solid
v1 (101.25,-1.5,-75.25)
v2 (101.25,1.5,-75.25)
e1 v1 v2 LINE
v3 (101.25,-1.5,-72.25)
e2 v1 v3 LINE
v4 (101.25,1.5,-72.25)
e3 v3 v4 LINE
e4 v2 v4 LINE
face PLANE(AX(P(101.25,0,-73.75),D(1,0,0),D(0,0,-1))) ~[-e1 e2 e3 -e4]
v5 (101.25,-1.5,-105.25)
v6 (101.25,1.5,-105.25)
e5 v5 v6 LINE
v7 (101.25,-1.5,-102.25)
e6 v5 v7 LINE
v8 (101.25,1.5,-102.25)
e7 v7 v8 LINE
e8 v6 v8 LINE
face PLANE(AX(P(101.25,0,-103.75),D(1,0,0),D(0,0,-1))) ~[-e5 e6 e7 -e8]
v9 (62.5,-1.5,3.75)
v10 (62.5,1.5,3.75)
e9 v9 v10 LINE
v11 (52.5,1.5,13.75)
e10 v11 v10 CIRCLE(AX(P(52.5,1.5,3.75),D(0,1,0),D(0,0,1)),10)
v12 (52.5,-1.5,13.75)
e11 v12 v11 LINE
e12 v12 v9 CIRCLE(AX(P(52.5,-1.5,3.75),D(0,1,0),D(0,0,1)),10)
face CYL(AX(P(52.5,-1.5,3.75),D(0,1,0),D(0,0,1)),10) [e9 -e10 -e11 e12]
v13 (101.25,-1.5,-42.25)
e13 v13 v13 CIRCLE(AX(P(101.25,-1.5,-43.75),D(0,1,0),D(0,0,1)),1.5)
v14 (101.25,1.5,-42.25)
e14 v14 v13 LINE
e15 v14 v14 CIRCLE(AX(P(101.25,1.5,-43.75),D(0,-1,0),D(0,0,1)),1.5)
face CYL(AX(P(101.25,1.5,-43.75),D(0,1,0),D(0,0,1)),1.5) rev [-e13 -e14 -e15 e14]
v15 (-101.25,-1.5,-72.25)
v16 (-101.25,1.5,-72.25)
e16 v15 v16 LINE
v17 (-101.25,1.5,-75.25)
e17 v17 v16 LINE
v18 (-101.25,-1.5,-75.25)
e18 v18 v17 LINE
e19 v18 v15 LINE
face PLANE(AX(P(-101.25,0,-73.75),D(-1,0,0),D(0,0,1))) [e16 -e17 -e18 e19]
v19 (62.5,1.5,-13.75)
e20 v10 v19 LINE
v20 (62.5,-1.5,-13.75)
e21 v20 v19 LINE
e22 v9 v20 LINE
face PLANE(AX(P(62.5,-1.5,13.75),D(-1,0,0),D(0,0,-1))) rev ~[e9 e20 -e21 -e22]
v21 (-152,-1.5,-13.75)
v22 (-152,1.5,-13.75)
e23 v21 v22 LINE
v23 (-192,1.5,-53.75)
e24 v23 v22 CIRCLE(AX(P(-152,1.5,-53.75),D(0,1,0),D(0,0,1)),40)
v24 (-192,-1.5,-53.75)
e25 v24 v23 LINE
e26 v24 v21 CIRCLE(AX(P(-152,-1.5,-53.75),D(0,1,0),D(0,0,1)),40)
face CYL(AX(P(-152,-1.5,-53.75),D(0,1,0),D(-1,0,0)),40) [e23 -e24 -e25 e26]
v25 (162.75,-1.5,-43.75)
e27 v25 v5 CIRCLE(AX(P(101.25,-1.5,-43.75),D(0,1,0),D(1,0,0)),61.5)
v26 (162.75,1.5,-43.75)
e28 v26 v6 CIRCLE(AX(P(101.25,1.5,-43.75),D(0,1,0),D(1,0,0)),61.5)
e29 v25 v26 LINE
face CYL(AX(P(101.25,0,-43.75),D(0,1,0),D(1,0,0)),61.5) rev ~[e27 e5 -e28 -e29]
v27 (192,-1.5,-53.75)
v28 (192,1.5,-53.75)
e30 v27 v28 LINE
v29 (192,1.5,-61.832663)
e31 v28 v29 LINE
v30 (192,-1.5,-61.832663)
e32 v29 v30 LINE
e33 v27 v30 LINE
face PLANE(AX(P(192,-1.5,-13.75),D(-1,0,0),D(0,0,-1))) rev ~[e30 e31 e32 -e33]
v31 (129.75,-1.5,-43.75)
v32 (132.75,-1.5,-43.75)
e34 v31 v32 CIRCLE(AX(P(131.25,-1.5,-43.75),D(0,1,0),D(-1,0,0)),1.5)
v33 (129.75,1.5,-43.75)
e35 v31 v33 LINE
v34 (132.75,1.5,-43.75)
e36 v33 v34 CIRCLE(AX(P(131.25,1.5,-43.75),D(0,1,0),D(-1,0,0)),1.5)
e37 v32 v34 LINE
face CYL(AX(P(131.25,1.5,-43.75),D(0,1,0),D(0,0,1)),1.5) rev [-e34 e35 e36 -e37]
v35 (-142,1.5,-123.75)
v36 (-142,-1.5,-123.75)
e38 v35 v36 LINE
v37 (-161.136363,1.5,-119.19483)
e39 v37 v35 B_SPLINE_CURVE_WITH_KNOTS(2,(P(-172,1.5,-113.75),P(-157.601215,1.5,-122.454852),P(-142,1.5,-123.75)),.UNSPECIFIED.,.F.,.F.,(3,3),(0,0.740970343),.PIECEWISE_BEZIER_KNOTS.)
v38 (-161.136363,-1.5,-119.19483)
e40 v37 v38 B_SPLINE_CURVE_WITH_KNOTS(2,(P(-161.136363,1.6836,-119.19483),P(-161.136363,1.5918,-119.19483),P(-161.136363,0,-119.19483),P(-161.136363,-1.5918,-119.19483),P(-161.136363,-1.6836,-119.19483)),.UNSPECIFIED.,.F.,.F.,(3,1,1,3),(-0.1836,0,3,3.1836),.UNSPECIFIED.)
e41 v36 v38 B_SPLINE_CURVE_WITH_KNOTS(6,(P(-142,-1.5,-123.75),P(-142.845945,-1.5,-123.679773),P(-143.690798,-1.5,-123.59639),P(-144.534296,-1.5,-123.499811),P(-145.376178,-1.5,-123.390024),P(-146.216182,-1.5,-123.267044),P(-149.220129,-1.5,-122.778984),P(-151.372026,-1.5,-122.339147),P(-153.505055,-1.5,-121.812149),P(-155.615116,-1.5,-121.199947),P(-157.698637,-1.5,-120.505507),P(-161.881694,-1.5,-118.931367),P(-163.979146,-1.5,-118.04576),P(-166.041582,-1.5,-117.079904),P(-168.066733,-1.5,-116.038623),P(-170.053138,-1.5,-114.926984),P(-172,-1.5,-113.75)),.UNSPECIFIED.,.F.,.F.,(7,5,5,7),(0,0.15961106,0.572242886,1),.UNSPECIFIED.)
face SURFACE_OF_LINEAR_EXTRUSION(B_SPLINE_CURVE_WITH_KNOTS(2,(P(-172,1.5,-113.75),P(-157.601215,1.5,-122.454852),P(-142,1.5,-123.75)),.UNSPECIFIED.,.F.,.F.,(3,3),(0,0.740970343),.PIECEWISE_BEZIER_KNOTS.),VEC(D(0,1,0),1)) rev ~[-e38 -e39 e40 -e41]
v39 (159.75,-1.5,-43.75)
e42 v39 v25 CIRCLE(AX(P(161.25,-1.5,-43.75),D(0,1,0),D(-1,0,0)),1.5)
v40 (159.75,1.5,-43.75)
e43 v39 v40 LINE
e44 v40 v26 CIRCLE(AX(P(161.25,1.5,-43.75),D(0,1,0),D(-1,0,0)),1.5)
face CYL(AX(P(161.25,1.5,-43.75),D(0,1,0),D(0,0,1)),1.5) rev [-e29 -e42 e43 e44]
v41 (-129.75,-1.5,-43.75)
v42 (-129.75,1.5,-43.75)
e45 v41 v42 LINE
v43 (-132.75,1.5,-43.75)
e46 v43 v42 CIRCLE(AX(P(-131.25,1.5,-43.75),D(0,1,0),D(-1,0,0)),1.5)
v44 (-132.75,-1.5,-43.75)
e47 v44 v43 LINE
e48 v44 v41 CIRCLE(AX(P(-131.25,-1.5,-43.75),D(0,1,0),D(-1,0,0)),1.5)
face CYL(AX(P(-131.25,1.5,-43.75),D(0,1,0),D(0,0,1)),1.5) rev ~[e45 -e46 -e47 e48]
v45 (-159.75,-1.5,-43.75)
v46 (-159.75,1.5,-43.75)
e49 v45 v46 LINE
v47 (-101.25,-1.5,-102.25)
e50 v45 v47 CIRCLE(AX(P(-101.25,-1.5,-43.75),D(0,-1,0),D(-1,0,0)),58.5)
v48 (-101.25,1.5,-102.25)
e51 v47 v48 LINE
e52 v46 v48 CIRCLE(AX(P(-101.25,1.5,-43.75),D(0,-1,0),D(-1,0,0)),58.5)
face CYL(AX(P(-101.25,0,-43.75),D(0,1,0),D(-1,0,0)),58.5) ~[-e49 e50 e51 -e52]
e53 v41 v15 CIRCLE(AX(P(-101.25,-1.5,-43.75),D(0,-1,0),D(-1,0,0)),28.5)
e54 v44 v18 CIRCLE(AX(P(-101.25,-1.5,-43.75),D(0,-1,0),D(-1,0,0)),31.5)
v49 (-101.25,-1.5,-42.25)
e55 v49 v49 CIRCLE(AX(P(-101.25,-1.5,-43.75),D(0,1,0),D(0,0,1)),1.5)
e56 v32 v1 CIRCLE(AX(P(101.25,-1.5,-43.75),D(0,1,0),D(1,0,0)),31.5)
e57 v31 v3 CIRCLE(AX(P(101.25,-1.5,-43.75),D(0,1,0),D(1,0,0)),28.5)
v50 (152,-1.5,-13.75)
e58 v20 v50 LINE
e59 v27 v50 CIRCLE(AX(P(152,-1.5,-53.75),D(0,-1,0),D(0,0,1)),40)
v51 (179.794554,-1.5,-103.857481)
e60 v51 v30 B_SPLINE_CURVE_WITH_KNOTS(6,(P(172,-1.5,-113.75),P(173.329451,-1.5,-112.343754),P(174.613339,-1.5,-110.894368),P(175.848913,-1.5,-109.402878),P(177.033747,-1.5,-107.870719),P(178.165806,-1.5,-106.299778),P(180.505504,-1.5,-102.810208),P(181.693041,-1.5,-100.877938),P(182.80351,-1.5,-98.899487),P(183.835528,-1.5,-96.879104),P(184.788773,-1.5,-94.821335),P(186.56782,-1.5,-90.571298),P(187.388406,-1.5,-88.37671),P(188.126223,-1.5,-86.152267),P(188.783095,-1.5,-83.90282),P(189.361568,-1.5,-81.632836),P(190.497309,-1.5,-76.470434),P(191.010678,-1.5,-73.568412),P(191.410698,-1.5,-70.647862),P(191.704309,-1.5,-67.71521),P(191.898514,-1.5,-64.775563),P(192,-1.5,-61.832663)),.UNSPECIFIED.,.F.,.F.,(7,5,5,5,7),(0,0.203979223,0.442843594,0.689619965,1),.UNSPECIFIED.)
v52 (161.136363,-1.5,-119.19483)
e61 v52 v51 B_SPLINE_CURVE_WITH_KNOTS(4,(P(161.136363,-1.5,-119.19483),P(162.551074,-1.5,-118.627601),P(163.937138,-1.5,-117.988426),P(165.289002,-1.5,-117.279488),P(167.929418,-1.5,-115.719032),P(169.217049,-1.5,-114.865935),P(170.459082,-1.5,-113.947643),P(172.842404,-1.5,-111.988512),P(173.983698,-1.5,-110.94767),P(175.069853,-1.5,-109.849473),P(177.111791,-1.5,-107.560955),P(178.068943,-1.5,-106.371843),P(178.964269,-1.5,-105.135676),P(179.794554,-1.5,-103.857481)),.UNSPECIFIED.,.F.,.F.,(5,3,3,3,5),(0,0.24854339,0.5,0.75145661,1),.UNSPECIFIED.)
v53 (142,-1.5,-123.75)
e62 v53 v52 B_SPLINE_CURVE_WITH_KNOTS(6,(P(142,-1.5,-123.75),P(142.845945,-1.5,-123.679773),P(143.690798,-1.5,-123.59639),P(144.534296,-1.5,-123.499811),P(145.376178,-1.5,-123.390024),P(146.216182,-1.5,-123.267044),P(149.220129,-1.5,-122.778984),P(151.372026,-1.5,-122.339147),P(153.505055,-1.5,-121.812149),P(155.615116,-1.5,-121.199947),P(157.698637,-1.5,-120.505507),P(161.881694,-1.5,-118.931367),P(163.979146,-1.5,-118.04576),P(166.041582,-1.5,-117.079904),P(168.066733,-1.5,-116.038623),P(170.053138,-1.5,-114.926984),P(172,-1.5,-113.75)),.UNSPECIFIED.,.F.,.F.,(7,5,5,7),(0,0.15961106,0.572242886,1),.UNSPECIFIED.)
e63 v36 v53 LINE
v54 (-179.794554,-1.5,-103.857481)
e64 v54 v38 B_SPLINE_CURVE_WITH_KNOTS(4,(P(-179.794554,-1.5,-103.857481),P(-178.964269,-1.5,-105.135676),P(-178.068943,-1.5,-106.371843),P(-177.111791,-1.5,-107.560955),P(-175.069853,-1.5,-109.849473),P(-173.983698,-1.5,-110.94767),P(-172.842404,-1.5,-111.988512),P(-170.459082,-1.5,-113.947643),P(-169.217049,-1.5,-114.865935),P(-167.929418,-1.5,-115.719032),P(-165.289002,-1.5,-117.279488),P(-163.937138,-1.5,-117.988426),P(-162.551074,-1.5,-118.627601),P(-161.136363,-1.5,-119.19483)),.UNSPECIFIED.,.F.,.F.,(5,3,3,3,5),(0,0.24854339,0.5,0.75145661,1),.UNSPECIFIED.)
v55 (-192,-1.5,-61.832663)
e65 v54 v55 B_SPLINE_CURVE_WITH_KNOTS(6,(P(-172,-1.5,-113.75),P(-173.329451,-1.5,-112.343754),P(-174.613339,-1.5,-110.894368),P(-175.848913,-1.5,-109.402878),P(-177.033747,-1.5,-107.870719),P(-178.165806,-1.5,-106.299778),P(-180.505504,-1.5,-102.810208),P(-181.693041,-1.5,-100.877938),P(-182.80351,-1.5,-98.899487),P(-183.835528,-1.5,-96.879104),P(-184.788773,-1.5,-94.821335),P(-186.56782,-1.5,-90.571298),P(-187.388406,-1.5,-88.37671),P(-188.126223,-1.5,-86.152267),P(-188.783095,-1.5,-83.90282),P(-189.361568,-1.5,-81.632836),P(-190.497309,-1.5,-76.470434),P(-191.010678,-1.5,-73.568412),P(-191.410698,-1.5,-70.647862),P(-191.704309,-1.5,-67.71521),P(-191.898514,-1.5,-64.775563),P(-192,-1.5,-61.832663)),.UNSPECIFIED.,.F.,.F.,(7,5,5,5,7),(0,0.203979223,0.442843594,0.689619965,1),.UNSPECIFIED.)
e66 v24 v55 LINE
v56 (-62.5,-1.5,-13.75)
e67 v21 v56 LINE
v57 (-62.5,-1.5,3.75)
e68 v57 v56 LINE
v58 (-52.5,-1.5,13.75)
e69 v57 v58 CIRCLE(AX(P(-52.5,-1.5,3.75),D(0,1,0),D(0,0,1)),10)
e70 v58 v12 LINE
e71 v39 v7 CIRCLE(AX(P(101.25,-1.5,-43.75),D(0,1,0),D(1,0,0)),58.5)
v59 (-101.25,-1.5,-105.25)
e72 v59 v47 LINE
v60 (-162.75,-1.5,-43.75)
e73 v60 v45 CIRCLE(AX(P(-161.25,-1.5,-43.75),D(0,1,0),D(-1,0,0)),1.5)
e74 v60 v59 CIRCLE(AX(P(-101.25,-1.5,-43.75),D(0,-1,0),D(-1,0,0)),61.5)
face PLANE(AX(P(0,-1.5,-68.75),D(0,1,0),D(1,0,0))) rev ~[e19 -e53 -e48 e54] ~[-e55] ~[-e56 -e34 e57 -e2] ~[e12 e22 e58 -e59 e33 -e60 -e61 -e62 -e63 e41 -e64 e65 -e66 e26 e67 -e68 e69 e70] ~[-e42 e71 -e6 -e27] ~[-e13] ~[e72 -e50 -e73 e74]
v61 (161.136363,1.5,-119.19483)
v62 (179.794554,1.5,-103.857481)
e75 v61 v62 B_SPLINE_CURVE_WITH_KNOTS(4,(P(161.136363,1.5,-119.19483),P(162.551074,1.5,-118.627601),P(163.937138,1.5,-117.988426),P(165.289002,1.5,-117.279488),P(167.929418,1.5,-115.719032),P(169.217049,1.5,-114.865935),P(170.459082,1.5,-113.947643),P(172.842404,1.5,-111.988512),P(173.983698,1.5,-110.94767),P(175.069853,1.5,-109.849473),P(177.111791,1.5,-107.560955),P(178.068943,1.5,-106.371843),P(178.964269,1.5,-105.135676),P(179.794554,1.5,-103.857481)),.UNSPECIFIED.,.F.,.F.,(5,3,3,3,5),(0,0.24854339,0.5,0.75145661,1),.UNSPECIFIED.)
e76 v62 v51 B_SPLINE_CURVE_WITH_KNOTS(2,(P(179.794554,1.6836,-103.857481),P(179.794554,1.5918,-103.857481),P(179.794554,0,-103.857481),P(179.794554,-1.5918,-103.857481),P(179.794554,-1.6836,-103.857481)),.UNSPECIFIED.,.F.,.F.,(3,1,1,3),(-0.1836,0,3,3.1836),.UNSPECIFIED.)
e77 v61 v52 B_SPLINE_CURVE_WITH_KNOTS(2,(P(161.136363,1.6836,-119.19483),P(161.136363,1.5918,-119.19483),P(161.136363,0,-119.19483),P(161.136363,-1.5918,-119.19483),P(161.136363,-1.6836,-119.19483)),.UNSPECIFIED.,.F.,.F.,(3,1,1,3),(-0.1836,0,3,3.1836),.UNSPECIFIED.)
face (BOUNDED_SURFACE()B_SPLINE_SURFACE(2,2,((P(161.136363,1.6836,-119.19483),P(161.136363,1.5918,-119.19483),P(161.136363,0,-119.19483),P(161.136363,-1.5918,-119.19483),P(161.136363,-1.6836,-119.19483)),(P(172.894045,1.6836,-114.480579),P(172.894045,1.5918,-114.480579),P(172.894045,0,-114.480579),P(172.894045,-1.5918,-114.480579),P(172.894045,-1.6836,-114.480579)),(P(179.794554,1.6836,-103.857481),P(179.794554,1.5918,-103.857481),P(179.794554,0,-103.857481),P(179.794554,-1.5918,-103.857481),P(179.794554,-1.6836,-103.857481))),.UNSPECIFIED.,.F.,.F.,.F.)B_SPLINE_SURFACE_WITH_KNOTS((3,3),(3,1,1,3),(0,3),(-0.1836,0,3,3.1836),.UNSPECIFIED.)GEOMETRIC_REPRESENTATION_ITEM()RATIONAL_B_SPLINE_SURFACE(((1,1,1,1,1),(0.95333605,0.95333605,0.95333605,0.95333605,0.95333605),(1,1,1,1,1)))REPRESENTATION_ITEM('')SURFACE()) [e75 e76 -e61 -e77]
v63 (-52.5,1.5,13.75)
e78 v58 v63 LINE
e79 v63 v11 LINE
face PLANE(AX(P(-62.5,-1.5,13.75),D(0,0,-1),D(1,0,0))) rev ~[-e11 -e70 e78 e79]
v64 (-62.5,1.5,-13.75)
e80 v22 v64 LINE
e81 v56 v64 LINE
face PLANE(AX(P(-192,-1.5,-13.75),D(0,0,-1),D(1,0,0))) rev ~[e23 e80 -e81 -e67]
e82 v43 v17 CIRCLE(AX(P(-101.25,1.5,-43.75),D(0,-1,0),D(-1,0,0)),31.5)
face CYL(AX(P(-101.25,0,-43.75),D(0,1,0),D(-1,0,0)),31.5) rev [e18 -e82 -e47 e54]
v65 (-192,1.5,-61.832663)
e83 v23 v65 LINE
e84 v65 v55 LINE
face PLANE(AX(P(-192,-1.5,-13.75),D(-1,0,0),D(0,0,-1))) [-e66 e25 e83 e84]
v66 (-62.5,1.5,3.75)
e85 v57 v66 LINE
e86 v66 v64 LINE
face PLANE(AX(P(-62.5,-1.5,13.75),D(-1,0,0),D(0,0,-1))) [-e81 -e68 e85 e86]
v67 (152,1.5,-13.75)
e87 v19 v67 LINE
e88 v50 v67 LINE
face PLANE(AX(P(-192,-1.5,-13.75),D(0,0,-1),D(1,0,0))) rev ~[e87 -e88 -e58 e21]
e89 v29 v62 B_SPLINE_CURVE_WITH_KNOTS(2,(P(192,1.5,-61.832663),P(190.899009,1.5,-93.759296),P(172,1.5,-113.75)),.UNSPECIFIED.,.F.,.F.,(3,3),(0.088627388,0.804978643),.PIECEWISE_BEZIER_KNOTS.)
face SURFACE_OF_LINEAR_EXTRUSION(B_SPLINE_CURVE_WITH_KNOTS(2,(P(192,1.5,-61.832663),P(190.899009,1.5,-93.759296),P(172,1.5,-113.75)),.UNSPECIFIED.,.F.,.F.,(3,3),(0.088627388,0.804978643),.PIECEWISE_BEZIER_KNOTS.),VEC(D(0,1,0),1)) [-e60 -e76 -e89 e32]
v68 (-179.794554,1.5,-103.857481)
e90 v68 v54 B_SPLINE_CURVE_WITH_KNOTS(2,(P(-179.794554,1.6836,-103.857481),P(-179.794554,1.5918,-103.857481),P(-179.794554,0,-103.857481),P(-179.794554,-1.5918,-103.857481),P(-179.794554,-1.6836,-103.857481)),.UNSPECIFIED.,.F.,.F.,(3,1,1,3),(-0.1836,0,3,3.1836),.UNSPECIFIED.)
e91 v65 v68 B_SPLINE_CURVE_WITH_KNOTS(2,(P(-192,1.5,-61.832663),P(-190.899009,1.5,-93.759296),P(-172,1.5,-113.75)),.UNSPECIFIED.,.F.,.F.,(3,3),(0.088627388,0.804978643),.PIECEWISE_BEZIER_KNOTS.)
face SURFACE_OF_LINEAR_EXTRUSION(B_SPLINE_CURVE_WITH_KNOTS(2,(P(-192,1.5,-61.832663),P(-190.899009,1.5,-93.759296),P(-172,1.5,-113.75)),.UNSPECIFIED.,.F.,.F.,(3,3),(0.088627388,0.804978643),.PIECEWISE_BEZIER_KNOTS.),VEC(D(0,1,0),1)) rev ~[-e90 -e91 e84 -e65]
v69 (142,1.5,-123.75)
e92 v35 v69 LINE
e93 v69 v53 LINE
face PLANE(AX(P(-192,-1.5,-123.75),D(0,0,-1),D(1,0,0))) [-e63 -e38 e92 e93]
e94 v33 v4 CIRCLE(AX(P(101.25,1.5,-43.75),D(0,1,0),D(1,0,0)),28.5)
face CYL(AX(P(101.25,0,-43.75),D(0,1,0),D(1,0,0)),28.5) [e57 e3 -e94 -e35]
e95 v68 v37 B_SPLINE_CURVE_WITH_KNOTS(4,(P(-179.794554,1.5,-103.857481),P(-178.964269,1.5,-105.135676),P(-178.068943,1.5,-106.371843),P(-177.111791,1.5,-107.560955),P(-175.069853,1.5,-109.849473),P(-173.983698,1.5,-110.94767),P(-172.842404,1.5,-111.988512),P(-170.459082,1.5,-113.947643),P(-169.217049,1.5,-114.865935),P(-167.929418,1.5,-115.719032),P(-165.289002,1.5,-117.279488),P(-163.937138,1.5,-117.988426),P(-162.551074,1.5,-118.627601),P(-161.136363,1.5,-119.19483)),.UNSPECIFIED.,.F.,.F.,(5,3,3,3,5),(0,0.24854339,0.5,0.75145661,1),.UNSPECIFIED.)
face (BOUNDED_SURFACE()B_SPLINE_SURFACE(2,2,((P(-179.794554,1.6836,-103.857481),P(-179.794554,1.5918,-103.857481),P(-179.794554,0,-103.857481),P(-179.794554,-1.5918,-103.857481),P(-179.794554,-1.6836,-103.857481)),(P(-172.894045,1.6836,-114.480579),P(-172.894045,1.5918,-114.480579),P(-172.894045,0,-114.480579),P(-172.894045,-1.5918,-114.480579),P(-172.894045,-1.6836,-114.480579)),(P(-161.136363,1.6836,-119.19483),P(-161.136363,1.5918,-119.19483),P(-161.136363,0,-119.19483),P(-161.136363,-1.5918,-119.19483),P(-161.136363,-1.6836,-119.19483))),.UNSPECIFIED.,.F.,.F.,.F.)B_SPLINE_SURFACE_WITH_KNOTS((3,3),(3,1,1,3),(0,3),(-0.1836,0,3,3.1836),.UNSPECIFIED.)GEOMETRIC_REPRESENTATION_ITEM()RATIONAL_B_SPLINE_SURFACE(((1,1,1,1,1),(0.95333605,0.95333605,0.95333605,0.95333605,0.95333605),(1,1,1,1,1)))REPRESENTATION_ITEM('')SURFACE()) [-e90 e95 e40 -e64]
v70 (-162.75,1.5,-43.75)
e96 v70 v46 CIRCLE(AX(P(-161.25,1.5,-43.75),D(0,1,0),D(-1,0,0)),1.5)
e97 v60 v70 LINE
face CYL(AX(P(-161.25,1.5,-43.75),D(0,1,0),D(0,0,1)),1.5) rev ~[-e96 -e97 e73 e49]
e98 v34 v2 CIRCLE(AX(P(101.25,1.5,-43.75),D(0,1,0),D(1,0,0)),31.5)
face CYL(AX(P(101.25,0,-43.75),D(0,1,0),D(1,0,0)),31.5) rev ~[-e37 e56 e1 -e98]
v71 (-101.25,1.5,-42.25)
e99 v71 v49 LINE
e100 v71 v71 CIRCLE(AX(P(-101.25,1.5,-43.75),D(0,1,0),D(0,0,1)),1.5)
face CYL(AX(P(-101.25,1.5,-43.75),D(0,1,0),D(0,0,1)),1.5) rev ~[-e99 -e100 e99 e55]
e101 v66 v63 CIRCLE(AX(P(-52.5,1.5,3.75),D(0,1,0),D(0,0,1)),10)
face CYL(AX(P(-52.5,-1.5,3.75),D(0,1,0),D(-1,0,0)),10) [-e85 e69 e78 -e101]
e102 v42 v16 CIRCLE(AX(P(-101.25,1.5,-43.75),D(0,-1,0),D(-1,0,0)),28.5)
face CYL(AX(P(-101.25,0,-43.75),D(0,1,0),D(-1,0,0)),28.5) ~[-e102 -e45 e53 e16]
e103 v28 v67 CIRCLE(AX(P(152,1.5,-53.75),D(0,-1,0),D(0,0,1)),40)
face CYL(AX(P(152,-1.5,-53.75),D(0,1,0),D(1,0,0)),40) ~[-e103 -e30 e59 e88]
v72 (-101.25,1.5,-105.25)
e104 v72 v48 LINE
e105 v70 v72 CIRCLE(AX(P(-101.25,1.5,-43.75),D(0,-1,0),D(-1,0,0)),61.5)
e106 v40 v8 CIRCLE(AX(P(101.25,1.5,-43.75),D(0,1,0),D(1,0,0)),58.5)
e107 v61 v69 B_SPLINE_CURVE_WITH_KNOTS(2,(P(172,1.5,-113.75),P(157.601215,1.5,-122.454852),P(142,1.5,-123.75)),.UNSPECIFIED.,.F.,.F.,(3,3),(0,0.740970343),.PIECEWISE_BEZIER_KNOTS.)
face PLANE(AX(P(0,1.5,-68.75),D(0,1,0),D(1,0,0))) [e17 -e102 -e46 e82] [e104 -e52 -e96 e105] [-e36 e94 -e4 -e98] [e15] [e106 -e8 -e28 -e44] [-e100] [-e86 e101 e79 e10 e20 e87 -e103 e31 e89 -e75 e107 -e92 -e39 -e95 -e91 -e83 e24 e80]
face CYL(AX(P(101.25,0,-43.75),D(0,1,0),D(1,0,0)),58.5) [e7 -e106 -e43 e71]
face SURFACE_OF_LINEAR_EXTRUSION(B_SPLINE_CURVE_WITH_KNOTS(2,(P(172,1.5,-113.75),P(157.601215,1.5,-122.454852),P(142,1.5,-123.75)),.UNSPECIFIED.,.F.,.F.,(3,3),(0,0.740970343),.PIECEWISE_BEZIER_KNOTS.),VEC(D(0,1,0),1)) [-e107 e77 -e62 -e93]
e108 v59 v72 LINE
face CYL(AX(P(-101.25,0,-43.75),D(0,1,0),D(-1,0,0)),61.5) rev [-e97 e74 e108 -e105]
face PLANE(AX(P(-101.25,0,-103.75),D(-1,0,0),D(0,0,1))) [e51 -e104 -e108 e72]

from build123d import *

# Parameters (mm, degrees)
BOSS_EXTRUDE1_DEPTH      = 1.5
BOSS_EXTRUDE1_DEPTH_BACK = 1.5
SKETCH1_W                = 125
SKETCH1_H                = 27.5
FILLET1_R                = 10
FILLET2_R                = 10
BOSS_EXTRUDE2_DEPTH      = 1.5
BOSS_EXTRUDE2_DEPTH_BACK = 1.5
SKETCH3_W                = 384
SKETCH3_H                = 110
FILLET3_R                = 40
FILLET4_R                = 40
CUT_EXTRUDE1_DEPTH       = 229.444878472
FILLET5_R                = 40
FILLET5_OF_MIRROR1_R     = 40
SKETCH5_R                = 1.5
CUT_EXTRUDE2_DEPTH       = 229.444878611
SKETCH8_W                = 3
SKETCH8_H                = 3
CUT_REVOLVE1_ANGLE       = 90


with BuildPart() as part:
    # Sketch1 → Boss-Extrude1 (new, two sides: drawn at the far end of the back side and taken through both)
    with BuildSketch(Plane(origin=(0, 0, 0), x_dir=(1, 0, 0), z_dir=(0, 1, 0)).offset(-BOSS_EXTRUDE1_DEPTH_BACK)):
        Rectangle(SKETCH1_W, SKETCH1_H)
    extrude(amount=BOSS_EXTRUDE1_DEPTH + BOSS_EXTRUDE1_DEPTH_BACK)

    # Fillet1
    fillet1_edges = [part.edges().sort_by_distance(p)[0] for p in [
        (-62.5, 0, 13.75),
    ]]
    fillet(fillet1_edges, radius=FILLET1_R)

    # Fillet2
    fillet2_edges = [part.edges().sort_by_distance(p)[0] for p in [
        (62.5, 0, 13.75),
    ]]
    fillet(fillet2_edges, radius=FILLET2_R)

    # Sketch3 → Boss-Extrude2 (add, two sides: drawn at the far end of the back side and taken through both)
    with BuildSketch(Plane(origin=(0, 0, 0), x_dir=(1, 0, 0), z_dir=(0, 1, 0)).offset(-BOSS_EXTRUDE2_DEPTH_BACK)):
        with Locations((0, 68.75)):
            Rectangle(SKETCH3_W, SKETCH3_H)
    extrude(amount=BOSS_EXTRUDE2_DEPTH + BOSS_EXTRUDE2_DEPTH_BACK)

    # Fillet3
    fillet3_edges = [part.edges().sort_by_distance(p)[0] for p in [
        (192, 0, -13.75),
    ]]
    fillet(fillet3_edges, radius=FILLET3_R)

    # Fillet4
    fillet4_edges = [part.edges().sort_by_distance(p)[0] for p in [
        (-192, 0, -13.75),
    ]]
    fillet(fillet4_edges, radius=FILLET4_R)

    # Sketch4 → Cut-Extrude1 (cut, through all)
    with BuildSketch(Plane(origin=(0, 1.5, 0), x_dir=(1, 0, 0), z_dir=(0, 1, 0))):
        with BuildLine():
            Line((-160.390648589, 123.75), (-192, 123.75))
            Line((-192, 123.75), (-192, 61.83266327))
            add(Edge.make_bspline(
                [(-192, 61.83266327), (-190.899009452, 93.759296174), (-172, 113.75)],
                knots=[0.088627388, 0.088627388, 0.088627388, 0.804978643, 0.804978643, 0.804978643], degree=2))
            add(Edge.make_bspline(
                [(-172, 113.75), (-166.85488377, 119.192321989), (-160.390648589, 123.75)],
                knots=[0.804978643, 0.804978643, 0.804978643, 1, 1, 1], degree=2))
        make_face()
        with BuildLine():
            Line((-142, 123.75), (-160.390648589, 123.75))
            add(Edge.make_bspline(
                [(-172, 113.75), (-166.85488377, 119.192321989), (-160.390648589, 123.75)],
                knots=[0.804978643, 0.804978643, 0.804978643, 1, 1, 1], degree=2))
            add(Edge.make_bspline(
                [(-172, 113.75), (-157.601214668, 122.454851717), (-142, 123.75)],
                knots=[0, 0, 0, 0.740970343, 0.740970343, 0.740970343], degree=2))
        make_face()
    cut_extrude1 = extrude(amount=-CUT_EXTRUDE1_DEPTH, mode=Mode.SUBTRACT)

    # Fillet5
    fillet5_edges = [part.edges().sort_by_distance(p)[0] for p in [
        (-172, 0, -113.75),
    ]]
    fillet(fillet5_edges, radius=FILLET5_R)

    # Mirror1: Cut-Extrude1 across plane
    add(cut_extrude1.mirror(Plane(origin=(0, 0, 0), x_dir=(0, 0, 1), z_dir=(1, 0, 0))), mode=Mode.SUBTRACT)

    # Fillet5 of Mirror1
    fillet5_of_mirror1_edges = [part.edges().sort_by_distance(p)[0] for p in [
        (172, 0, -113.75),
    ]]
    fillet(fillet5_of_mirror1_edges, radius=FILLET5_OF_MIRROR1_R)

    # Sketch5 → Cut-Extrude2 (cut, through all)
    with BuildSketch(Plane(origin=(0, 1.5, 0), x_dir=(1, 0, 0), z_dir=(0, 1, 0))):
        with Locations(Location((-101.25, 43.75, 0), (0, 0, 270))):
            Circle(SKETCH5_R)
        with Locations(Location((-131.25, 43.75, 0), (0, 0, 270))):
            Circle(SKETCH5_R)
        with Locations(Location((-161.25, 43.75, 0), (0, 0, 270))):
            Circle(SKETCH5_R)
    cut_extrude2 = extrude(amount=-CUT_EXTRUDE2_DEPTH, mode=Mode.SUBTRACT)

    # Sketch8 → Cut-Revolve1 (revolve, cut)
    with BuildSketch(Plane.XY.offset(-43.75)):
        with Locations((-131.25, 0)):
            Rectangle(SKETCH8_W, SKETCH8_H)
        with Locations((-161.25, 0)):
            Rectangle(SKETCH8_W, SKETCH8_H)
    cut_revolve1 = revolve(axis=Axis((-101.25, -1.5, -43.75), (0, -1, 0)), revolution_arc=CUT_REVOLVE1_ANGLE, mode=Mode.SUBTRACT)

    # Mirror2: Cut-Extrude2, Cut-Revolve1 across plane
    add(cut_extrude2.mirror(Plane(origin=(0, 0, 0), x_dir=(0, 0, 1), z_dir=(1, 0, 0))), mode=Mode.SUBTRACT)
    add(cut_revolve1.mirror(Plane(origin=(0, 0, 0), x_dir=(0, 0, 1), z_dir=(1, 0, 0))), mode=Mode.SUBTRACT)


solid = part.part
